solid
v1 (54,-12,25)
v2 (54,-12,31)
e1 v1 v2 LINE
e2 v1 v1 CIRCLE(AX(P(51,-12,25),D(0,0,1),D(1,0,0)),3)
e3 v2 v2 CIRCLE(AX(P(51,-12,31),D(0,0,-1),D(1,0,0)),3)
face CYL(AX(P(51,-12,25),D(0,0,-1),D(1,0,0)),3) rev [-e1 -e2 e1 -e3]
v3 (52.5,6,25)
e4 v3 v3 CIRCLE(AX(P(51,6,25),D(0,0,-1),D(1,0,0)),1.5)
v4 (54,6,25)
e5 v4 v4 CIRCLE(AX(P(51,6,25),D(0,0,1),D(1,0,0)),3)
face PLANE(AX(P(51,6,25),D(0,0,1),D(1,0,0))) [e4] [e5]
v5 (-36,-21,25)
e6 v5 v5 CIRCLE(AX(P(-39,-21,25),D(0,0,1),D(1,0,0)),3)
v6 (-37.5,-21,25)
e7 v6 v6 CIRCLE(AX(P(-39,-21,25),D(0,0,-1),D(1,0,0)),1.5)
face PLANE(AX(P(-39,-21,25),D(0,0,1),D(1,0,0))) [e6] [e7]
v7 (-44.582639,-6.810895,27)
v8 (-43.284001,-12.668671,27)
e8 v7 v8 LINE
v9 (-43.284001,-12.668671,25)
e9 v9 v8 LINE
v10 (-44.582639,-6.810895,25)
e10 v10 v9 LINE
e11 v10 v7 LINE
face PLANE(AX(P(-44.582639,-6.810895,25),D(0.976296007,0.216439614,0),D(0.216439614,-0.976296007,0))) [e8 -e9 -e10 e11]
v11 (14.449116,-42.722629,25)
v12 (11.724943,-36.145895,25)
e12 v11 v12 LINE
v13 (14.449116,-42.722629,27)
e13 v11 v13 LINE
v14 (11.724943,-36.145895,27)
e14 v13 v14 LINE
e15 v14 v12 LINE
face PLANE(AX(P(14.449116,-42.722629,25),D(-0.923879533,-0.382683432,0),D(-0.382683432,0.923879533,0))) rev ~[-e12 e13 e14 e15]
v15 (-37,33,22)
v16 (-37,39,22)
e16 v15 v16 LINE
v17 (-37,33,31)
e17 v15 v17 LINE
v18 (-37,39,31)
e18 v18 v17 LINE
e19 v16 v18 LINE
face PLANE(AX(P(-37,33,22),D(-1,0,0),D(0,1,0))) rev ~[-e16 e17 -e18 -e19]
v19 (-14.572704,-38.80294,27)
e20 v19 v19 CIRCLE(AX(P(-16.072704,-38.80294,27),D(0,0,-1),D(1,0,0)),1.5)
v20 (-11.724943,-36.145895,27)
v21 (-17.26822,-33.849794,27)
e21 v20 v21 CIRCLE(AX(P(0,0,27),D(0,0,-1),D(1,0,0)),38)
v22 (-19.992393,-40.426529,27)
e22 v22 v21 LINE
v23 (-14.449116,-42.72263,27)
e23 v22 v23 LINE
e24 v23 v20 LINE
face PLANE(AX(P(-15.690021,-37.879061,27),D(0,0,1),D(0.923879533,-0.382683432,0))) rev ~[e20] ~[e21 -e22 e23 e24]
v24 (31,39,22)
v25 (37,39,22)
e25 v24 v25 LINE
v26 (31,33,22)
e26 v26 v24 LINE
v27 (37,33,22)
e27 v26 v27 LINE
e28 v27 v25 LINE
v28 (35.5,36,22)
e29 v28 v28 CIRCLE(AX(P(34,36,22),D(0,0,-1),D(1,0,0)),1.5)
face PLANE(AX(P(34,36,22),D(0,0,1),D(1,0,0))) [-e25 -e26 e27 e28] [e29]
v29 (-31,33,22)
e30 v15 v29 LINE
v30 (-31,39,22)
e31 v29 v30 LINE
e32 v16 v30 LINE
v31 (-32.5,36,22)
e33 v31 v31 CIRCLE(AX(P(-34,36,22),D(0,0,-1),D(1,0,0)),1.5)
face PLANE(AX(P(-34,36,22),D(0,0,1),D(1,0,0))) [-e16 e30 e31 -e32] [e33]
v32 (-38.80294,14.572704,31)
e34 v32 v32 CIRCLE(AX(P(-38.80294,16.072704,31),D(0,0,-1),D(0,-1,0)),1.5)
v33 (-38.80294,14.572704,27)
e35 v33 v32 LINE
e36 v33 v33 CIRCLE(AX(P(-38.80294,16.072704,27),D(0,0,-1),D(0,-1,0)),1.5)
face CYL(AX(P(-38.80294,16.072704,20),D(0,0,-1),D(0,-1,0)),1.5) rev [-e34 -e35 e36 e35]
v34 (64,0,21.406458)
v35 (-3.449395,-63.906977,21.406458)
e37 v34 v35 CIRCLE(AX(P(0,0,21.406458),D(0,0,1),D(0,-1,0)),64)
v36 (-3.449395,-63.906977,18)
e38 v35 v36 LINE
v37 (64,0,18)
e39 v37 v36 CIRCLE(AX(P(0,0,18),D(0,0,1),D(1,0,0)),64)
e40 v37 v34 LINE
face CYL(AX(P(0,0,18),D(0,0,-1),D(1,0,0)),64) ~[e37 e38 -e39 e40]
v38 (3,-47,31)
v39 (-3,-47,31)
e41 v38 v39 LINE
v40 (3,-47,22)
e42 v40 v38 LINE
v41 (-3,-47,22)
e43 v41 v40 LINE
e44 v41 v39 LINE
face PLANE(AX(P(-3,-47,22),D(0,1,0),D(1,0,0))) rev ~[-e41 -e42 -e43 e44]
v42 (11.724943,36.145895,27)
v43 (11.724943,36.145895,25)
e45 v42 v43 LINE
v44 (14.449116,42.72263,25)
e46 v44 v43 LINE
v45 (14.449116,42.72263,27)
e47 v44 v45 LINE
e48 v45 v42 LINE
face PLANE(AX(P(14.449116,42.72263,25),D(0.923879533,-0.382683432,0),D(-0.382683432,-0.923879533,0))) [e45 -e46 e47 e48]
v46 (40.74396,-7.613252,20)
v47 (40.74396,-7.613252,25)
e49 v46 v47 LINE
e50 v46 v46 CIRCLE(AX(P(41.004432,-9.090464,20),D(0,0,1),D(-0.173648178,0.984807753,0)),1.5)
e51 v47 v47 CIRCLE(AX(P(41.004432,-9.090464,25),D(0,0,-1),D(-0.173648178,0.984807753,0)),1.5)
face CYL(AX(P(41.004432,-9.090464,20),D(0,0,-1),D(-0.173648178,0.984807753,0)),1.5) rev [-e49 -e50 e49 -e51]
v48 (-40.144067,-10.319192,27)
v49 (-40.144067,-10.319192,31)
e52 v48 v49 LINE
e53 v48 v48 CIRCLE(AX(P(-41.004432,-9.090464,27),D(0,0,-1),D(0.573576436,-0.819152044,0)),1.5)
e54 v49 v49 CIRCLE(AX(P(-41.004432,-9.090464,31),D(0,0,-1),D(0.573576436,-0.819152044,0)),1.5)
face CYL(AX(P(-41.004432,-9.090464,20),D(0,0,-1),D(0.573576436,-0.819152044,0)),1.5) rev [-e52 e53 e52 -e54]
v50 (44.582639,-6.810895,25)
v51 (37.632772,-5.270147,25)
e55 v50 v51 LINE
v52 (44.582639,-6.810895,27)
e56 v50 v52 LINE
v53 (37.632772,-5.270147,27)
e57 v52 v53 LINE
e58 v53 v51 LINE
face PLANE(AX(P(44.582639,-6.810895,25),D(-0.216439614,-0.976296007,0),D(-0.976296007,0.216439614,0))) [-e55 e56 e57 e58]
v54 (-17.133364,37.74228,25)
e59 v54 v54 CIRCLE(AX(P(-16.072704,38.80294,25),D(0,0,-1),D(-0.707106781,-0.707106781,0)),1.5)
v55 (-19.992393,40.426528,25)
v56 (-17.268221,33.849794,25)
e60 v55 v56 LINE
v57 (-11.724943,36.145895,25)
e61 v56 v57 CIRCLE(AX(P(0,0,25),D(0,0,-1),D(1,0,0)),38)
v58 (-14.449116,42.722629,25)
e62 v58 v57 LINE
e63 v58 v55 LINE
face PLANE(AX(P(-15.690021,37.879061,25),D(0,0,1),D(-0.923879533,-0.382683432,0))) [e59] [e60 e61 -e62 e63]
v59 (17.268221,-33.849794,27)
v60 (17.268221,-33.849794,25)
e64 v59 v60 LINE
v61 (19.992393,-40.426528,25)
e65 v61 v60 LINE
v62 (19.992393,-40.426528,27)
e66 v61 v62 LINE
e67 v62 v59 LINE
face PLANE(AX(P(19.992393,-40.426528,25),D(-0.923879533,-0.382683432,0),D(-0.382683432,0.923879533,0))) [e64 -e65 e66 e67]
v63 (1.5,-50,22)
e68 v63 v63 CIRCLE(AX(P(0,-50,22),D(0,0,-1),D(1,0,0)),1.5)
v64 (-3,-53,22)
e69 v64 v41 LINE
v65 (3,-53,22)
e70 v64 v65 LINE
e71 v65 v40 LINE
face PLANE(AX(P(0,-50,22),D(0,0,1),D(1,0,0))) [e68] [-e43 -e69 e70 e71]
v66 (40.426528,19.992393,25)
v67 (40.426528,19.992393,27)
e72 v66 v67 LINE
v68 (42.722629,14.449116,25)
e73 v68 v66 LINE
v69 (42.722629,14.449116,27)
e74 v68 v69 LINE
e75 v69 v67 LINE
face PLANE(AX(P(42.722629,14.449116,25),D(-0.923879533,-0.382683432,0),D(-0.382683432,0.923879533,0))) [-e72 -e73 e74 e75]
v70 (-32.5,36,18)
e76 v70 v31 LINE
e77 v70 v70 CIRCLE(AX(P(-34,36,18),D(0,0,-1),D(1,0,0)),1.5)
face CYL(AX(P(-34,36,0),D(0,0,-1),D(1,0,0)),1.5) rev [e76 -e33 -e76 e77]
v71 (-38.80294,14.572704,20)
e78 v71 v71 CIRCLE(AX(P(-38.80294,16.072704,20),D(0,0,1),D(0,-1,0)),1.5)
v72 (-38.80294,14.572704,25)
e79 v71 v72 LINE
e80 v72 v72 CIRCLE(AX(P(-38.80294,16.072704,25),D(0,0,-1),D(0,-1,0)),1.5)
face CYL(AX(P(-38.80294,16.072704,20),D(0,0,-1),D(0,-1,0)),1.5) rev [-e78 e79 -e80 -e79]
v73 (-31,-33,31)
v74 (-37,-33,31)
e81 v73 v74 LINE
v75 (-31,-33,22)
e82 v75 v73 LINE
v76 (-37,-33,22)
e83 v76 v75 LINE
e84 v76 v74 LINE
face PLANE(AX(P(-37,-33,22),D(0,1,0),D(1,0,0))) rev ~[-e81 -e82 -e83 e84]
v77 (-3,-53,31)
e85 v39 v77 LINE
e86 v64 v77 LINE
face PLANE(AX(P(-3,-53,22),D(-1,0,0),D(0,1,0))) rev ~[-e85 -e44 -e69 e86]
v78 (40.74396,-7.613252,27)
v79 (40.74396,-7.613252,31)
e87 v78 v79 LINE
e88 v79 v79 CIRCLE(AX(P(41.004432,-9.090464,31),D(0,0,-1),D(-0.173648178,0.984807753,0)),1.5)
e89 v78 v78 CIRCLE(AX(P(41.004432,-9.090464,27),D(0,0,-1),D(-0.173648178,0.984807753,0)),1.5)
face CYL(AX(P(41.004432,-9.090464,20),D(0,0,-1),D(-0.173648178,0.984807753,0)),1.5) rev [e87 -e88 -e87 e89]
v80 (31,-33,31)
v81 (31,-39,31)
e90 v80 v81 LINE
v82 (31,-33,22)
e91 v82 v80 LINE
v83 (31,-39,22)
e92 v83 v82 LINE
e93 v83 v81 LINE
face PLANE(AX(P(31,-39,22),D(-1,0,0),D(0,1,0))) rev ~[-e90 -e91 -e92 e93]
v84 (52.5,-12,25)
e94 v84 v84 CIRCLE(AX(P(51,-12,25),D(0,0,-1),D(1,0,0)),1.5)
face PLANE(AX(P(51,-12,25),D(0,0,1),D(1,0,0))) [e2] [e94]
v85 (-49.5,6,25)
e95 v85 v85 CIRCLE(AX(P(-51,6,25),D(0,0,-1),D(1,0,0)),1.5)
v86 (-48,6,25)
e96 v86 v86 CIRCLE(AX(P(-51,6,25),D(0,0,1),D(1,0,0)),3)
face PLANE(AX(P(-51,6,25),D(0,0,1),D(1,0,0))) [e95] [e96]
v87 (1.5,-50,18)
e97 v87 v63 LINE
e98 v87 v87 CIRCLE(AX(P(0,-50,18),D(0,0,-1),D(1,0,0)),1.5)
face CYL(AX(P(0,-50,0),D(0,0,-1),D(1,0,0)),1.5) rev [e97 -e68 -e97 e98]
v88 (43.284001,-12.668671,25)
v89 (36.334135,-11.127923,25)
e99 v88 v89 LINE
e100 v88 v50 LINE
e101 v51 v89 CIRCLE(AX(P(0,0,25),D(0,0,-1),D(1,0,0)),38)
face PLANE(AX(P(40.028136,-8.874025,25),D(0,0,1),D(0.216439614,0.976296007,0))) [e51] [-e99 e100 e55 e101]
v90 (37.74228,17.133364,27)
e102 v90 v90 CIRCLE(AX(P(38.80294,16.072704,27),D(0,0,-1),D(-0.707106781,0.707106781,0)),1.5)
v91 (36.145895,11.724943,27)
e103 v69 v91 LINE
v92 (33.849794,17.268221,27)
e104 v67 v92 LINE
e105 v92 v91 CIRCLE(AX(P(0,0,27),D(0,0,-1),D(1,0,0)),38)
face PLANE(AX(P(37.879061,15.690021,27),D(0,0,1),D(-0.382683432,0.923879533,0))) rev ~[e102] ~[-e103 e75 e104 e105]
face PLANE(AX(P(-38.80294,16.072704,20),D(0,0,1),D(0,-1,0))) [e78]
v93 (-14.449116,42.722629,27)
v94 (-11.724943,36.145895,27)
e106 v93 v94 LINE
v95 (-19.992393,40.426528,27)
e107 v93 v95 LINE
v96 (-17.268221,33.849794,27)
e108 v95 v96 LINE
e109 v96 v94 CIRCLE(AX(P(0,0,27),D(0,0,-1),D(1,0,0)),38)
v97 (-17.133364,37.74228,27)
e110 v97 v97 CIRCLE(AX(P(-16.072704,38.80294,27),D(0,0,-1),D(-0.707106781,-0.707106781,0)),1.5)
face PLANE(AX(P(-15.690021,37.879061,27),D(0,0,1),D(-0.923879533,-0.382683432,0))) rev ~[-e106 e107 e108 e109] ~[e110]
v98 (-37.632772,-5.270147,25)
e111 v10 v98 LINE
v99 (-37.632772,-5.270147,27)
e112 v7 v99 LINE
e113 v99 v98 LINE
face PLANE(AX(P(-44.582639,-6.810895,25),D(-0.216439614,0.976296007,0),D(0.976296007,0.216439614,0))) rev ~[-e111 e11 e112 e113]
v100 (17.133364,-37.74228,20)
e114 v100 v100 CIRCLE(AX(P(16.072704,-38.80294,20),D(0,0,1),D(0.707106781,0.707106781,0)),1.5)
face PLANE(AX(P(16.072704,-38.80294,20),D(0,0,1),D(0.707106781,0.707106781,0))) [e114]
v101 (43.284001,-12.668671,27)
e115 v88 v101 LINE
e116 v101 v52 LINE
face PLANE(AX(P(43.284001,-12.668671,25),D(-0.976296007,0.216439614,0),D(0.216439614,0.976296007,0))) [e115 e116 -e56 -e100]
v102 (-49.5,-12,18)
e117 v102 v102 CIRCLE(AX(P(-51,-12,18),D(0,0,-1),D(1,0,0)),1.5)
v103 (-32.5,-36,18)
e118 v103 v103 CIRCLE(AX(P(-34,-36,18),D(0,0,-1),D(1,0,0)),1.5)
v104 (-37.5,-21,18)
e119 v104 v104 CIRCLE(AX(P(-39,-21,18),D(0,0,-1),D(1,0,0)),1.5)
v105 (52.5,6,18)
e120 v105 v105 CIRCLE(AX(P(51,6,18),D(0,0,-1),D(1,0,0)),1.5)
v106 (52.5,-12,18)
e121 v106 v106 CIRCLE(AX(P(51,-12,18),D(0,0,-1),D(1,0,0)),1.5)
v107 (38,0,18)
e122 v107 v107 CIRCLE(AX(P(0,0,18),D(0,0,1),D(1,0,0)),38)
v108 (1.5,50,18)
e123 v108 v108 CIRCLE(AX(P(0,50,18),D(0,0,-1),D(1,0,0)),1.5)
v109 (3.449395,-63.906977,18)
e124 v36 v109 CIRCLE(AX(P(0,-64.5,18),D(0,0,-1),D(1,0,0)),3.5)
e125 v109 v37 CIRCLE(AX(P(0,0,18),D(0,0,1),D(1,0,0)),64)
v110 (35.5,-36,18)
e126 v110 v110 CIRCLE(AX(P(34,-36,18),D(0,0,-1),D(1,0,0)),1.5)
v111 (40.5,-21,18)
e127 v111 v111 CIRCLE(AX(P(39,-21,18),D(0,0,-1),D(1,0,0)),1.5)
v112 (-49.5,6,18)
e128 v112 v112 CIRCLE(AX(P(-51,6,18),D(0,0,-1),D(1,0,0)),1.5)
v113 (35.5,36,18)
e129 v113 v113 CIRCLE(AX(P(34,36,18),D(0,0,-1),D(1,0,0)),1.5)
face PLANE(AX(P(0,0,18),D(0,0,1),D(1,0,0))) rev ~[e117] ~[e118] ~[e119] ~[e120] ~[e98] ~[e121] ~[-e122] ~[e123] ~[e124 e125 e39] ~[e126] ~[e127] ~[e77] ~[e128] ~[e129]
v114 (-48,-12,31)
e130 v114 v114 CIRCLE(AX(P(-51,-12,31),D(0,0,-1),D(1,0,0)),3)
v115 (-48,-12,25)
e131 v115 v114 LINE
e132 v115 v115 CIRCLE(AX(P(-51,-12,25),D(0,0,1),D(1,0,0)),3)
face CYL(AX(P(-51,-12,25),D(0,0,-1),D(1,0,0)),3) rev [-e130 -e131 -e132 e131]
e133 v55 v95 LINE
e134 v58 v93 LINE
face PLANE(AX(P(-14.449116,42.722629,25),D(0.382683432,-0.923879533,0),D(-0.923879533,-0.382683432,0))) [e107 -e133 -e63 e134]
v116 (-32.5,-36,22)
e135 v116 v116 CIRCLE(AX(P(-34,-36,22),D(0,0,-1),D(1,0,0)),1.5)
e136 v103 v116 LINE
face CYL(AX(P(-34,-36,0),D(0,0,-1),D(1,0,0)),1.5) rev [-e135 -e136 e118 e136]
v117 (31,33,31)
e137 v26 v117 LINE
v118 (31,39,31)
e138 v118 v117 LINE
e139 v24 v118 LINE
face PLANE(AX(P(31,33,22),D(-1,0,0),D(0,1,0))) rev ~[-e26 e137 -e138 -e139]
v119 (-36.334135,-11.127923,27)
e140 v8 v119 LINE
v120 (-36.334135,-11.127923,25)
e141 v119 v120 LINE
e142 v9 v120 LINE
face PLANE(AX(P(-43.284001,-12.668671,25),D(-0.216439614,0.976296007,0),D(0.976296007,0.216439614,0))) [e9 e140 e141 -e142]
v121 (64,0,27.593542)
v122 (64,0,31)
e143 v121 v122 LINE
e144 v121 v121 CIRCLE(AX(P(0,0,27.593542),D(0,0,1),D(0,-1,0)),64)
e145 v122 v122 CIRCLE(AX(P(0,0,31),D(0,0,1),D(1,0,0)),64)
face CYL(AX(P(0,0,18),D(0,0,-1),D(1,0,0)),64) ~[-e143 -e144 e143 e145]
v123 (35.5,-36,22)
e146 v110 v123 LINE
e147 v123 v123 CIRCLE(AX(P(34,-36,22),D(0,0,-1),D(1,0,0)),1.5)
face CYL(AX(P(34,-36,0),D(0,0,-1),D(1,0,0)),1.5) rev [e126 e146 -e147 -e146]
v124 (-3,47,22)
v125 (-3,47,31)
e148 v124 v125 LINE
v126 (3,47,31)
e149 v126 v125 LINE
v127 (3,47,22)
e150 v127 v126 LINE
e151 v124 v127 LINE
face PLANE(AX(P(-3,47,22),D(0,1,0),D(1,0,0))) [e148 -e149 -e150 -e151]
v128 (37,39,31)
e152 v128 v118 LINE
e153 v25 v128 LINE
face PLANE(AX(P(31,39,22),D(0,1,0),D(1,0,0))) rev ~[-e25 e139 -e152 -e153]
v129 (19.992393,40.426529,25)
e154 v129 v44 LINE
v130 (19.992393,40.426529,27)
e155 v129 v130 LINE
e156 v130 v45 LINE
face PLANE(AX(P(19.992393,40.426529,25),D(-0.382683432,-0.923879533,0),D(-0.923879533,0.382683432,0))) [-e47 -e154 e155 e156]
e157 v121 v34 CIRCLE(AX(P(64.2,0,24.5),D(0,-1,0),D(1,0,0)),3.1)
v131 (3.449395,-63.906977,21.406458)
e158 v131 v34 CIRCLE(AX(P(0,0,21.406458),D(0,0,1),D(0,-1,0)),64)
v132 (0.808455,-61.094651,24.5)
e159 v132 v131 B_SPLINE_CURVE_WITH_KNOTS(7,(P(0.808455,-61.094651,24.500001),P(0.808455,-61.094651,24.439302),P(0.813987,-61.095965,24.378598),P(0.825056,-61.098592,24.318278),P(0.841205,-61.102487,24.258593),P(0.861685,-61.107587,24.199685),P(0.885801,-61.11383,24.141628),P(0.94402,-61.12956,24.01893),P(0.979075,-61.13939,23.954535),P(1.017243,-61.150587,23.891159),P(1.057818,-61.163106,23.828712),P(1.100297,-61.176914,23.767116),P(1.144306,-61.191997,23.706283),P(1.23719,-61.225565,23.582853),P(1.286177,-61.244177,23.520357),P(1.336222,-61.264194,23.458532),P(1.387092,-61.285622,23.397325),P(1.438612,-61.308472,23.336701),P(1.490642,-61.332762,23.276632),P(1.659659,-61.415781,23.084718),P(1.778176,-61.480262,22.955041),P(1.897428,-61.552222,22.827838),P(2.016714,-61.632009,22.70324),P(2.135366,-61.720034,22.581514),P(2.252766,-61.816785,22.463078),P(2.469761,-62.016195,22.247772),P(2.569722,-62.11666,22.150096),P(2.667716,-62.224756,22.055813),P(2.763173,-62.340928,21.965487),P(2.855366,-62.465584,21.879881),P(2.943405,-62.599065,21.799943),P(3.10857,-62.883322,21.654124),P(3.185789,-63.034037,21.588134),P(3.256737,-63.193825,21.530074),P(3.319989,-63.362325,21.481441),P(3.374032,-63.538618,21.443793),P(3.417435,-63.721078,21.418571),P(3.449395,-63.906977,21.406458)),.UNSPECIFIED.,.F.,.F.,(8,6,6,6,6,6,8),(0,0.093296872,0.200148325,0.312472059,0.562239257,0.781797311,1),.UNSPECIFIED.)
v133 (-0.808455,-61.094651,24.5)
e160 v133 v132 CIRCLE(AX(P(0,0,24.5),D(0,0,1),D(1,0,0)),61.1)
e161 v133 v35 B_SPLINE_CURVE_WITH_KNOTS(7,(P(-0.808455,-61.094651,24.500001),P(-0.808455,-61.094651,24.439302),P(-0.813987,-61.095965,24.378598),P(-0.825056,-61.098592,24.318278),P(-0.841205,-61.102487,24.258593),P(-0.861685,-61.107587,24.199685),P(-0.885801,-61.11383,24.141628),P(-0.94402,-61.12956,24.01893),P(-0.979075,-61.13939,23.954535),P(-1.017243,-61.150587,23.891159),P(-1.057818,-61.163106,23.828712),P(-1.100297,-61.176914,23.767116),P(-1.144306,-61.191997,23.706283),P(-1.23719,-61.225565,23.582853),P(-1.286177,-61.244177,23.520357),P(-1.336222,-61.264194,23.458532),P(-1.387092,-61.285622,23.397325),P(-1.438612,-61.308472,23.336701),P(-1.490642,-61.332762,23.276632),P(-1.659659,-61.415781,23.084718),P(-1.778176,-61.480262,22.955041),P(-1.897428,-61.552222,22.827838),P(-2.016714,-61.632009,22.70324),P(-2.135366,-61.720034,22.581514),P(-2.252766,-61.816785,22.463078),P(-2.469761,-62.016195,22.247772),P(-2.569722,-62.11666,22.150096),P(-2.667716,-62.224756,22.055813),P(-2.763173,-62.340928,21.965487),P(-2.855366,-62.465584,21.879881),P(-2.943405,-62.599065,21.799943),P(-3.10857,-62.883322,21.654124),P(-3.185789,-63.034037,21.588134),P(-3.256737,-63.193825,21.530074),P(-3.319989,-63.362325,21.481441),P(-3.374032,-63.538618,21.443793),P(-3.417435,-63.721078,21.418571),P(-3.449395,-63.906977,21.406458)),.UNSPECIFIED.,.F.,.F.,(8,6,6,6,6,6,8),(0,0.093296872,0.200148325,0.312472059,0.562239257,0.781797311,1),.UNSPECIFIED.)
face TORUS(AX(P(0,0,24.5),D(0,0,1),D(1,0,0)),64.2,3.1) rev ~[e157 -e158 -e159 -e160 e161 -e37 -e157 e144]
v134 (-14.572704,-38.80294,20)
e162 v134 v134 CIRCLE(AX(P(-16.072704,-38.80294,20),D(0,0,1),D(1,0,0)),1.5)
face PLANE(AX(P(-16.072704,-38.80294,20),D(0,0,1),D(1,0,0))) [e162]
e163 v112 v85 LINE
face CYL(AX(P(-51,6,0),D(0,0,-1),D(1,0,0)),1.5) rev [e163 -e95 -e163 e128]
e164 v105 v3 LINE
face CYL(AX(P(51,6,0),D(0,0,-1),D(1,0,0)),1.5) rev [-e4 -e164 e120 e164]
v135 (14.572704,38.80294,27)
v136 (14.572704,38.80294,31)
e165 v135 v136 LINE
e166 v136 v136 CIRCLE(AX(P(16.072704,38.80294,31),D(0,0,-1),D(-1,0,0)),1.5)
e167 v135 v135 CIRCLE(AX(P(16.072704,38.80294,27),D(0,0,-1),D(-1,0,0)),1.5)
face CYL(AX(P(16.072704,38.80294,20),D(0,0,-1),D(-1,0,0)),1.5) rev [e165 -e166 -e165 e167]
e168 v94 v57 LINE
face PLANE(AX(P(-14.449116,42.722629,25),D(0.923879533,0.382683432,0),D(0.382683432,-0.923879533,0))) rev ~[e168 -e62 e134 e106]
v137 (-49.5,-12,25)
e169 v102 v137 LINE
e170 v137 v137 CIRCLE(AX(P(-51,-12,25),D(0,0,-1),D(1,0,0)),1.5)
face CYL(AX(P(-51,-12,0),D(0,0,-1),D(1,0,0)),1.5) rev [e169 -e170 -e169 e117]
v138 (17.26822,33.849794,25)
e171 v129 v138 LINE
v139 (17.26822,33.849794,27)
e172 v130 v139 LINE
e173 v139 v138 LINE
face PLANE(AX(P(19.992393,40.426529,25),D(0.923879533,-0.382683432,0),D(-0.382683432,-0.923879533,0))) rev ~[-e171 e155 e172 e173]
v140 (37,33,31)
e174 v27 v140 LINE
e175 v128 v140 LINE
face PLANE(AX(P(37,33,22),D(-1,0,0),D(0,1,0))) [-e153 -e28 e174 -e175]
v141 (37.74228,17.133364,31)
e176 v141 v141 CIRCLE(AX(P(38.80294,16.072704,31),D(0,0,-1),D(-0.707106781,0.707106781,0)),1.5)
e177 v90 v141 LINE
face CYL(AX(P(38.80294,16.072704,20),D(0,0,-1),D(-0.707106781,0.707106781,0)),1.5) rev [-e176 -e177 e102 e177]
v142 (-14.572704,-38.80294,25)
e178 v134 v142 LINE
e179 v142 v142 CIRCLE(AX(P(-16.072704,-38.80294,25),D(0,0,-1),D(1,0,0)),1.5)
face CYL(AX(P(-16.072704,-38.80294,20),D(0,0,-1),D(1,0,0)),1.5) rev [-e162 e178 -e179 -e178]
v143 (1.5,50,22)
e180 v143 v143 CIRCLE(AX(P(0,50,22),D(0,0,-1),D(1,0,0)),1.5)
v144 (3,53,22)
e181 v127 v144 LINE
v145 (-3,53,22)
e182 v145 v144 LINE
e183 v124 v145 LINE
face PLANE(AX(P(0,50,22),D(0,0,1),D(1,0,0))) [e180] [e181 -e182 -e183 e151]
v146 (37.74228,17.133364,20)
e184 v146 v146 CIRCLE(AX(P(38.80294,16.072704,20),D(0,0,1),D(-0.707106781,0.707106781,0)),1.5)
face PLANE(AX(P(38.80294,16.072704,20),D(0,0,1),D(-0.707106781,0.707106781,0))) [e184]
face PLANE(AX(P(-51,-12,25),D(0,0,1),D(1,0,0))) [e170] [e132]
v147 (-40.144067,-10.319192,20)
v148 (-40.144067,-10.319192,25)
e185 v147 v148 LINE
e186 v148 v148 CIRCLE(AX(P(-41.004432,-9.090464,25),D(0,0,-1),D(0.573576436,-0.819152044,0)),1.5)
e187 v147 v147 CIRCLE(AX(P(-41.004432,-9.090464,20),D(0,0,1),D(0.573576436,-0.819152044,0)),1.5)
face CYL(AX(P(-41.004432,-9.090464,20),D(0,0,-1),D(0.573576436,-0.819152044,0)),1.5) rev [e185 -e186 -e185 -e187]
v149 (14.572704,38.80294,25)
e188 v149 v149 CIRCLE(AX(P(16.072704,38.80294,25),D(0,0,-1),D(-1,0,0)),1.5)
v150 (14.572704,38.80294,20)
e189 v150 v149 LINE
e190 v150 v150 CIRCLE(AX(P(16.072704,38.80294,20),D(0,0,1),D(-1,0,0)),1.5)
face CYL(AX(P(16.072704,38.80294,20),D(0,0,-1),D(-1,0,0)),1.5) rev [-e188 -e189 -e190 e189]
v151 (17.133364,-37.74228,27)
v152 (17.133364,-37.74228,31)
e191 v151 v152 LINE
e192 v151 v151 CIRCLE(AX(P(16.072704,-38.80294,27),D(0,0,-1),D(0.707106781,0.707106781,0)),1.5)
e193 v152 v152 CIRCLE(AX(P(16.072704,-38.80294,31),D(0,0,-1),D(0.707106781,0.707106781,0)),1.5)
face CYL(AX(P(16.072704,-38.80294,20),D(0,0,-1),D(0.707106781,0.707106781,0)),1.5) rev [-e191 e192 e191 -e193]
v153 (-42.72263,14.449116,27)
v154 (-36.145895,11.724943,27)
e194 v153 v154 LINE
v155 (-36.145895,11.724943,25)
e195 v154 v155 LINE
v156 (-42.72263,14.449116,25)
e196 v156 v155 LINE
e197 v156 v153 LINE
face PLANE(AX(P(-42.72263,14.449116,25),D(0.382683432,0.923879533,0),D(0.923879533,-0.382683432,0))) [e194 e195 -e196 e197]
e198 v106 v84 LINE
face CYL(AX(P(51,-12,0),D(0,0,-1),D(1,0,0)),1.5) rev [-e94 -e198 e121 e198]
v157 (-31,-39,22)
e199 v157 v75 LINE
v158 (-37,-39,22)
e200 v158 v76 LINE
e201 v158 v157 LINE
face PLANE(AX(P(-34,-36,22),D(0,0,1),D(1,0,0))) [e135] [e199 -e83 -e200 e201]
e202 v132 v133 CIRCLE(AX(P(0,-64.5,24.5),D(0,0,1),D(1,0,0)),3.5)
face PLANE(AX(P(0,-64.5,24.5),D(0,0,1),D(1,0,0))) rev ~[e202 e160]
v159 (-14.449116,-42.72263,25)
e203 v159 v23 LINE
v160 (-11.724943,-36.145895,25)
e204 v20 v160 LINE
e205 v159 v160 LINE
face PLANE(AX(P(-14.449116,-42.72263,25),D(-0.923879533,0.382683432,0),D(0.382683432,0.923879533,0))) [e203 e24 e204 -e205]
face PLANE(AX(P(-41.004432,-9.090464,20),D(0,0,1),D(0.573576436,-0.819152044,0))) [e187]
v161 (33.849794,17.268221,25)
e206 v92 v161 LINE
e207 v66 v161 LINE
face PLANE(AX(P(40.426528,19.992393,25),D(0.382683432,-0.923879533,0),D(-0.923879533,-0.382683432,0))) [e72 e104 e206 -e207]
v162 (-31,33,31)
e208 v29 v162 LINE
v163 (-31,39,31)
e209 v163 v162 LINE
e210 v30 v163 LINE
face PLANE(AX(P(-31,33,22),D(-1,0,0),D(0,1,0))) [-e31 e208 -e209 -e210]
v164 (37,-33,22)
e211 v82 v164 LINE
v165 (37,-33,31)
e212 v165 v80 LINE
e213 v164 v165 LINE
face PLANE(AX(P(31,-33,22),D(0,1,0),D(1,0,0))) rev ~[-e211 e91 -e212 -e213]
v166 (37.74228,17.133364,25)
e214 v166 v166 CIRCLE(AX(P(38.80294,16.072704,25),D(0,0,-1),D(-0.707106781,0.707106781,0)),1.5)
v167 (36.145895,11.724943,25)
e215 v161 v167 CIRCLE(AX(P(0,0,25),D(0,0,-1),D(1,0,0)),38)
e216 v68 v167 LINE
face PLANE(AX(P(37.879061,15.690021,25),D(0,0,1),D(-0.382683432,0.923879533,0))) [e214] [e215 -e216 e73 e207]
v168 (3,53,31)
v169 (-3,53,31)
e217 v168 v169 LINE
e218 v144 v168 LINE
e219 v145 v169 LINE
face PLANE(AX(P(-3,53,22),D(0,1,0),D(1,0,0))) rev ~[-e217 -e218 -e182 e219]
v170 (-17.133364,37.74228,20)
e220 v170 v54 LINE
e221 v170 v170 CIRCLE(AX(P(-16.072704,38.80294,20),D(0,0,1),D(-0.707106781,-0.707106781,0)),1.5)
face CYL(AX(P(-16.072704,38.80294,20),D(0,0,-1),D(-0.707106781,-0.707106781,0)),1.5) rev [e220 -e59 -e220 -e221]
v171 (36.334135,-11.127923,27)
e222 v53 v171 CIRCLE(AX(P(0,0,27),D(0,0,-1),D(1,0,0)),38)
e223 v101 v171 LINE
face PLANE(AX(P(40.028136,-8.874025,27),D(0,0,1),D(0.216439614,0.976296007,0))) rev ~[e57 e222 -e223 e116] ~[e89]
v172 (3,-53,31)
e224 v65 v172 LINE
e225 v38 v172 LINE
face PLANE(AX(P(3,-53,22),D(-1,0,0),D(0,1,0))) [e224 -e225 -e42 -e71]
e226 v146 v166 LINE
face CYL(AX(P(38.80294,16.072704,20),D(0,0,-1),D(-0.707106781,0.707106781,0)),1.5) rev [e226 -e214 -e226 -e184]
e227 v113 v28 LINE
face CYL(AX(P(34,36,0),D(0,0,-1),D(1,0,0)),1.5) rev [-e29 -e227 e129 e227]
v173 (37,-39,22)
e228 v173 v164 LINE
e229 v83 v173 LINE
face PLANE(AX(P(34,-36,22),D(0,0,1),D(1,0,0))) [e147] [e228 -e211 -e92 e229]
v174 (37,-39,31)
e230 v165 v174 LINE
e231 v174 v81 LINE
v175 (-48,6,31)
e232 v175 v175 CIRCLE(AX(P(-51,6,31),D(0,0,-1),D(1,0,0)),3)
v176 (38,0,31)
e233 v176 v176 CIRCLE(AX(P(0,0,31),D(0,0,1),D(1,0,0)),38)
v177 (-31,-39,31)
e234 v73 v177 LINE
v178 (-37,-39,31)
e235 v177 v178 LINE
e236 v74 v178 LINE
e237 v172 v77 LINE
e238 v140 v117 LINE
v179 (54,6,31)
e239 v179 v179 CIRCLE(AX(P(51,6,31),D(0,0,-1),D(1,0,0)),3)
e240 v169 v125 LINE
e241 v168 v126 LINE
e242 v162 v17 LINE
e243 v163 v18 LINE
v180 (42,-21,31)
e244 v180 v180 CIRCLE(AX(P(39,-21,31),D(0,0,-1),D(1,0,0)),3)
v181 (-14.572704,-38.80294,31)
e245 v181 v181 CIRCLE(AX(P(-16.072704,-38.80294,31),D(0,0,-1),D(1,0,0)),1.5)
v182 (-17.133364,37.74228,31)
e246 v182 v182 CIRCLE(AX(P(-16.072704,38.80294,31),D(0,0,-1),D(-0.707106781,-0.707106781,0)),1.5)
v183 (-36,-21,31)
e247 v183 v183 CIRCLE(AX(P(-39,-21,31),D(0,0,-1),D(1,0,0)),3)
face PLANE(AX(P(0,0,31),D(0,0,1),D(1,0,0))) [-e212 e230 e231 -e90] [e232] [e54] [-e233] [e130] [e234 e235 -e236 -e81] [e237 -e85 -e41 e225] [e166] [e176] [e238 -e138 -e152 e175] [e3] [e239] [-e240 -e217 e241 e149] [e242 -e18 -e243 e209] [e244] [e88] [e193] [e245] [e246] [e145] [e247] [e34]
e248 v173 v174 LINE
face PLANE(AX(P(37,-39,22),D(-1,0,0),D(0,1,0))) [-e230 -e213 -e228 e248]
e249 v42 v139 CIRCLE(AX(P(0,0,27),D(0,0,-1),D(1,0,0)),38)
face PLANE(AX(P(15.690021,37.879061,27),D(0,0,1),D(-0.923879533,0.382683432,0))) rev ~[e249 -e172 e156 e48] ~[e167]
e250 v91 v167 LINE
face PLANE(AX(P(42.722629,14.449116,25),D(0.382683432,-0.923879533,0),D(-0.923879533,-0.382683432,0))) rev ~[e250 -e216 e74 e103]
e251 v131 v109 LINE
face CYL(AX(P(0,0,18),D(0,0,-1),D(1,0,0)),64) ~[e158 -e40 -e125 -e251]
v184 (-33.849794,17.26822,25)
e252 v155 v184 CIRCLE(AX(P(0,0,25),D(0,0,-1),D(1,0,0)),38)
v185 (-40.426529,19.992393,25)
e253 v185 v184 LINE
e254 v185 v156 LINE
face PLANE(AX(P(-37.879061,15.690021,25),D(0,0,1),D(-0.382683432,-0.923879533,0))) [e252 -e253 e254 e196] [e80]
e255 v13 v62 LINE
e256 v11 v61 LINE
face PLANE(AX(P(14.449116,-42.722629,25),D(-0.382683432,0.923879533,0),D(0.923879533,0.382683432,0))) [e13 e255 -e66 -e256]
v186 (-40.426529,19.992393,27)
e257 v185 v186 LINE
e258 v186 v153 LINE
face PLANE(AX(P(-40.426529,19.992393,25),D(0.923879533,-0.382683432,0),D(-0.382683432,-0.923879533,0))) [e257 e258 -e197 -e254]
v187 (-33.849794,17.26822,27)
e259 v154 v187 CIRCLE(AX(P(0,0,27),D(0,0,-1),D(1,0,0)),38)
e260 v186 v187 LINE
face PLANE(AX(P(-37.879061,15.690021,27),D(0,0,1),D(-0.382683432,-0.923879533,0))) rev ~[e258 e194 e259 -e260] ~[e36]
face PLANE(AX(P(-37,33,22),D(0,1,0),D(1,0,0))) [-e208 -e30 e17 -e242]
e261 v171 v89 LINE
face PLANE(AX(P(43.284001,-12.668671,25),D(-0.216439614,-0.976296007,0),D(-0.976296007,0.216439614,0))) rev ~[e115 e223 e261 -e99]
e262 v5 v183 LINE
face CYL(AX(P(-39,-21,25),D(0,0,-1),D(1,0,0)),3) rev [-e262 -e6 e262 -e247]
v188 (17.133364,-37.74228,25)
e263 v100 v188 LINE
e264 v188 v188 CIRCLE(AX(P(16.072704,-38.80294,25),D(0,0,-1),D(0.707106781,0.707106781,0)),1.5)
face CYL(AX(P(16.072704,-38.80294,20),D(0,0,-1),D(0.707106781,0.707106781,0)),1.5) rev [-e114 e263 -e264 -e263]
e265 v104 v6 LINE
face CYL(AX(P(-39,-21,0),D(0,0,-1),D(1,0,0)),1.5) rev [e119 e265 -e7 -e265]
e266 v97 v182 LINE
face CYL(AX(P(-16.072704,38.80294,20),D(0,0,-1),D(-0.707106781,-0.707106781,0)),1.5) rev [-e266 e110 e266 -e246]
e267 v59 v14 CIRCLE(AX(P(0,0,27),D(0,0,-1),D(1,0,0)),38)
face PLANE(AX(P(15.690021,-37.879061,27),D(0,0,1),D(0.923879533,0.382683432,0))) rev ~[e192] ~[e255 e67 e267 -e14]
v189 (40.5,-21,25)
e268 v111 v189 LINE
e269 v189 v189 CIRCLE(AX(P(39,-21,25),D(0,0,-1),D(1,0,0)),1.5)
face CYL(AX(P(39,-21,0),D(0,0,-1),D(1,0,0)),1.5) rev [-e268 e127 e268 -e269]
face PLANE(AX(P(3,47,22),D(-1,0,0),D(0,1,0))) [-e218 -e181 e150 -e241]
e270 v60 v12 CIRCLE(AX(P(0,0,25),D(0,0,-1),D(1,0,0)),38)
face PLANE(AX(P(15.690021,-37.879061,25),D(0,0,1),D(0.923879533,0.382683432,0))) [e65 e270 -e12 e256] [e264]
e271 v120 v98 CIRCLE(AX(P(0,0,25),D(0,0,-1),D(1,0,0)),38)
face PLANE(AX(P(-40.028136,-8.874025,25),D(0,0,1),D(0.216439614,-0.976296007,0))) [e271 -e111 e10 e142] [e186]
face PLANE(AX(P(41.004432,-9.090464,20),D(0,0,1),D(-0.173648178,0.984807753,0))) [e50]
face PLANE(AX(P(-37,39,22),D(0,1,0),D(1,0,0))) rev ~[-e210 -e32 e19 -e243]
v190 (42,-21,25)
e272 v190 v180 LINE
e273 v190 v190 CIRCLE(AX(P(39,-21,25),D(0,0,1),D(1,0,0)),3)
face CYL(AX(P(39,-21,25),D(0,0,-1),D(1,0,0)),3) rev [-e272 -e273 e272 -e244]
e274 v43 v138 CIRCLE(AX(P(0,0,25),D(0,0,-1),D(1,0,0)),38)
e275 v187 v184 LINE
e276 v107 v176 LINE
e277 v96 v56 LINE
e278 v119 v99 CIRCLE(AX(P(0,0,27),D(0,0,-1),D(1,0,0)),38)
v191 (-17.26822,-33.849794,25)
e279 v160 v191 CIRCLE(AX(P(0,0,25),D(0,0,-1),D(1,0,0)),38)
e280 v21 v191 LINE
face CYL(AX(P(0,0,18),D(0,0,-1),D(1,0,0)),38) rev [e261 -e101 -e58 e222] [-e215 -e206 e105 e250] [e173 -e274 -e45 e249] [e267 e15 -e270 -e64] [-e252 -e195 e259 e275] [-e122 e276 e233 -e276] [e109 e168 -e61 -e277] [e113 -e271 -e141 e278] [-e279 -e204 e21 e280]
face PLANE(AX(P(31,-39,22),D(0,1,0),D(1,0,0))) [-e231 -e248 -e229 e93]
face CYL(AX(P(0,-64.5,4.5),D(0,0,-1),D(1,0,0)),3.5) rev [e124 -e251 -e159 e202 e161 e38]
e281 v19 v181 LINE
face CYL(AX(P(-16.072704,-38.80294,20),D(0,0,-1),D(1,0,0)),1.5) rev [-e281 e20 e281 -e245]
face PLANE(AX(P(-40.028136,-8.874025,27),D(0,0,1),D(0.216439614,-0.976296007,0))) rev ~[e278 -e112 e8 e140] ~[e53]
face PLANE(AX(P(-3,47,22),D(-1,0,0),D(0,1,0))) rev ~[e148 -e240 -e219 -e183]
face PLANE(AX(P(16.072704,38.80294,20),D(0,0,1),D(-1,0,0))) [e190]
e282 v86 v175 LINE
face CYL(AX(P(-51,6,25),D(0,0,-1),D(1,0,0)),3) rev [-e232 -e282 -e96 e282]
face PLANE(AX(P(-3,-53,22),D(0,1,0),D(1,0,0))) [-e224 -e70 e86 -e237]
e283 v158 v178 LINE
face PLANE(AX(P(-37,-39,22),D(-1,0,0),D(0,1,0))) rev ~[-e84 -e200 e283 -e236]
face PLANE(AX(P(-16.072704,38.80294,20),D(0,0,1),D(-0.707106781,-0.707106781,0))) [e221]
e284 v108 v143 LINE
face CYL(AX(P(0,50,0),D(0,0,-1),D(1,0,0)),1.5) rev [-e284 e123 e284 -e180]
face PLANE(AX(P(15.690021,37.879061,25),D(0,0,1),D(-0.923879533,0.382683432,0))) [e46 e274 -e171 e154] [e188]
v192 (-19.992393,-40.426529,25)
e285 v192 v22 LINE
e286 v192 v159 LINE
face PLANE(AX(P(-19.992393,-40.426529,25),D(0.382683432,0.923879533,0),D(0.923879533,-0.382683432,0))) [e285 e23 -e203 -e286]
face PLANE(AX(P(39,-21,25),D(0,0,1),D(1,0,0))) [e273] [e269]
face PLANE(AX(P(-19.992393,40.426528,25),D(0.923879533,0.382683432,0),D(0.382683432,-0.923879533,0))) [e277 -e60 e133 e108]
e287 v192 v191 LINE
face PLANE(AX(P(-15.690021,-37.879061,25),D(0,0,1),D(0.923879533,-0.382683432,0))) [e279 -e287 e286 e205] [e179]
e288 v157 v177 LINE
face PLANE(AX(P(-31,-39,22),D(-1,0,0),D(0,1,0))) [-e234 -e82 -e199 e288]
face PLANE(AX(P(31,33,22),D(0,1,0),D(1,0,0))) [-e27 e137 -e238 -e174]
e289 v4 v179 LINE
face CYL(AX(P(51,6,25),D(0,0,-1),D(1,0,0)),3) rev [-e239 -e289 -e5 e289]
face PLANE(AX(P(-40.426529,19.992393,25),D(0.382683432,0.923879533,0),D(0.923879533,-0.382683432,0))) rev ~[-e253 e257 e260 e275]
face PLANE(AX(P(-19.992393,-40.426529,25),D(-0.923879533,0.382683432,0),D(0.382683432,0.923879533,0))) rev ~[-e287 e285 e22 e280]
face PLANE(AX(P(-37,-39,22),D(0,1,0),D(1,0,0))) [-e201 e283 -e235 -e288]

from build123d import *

# Parameters (mm, degrees)
CYLINDER529_R               = 1.5
CYLINDER529_DEPTH           = 100
CYLINDER528_R               = 1.5
CYLINDER528_DEPTH           = 100
CYLINDER533_R               = 3
CYLINDER533_DEPTH           = 7
CYLINDER532_R               = 3
CYLINDER532_DEPTH           = 7
BOX158_W                    = 6
BOX158_H                    = 8
BOX158_DEPTH                = 2
BOX158_PLACEMENT_ANGLE      = 77.5
BOX159_W                    = 6
BOX159_H                    = 8
BOX159_DEPTH                = 2
BOX159_PLACEMENT_ANGLE      = 112.5
BOX160_W                    = 6
BOX160_H                    = 8
BOX160_DEPTH                = 2
BOX160_PLACEMENT_ANGLE      = 157.5
BOX161_W                    = 6
BOX161_H                    = 8
BOX161_DEPTH                = 2
BOX161_PLACEMENT_ANGLE      = 202.5
BOX162_W                    = 6
BOX162_H                    = 8
BOX162_DEPTH                = 2
BOX162_PLACEMENT_ANGLE      = -112.5
BOX163_W                    = 6
BOX163_H                    = 8
BOX163_DEPTH                = 2
BOX163_PLACEMENT_ANGLE      = 77.5
BOX164_W                    = 6
BOX164_H                    = 8
BOX164_DEPTH                = 2
BOX164_PLACEMENT_ANGLE      = 22.5
BOX157_W                    = 6
BOX157_H                    = 8
BOX157_DEPTH                = 2
BOX157_PLACEMENT_ANGLE      = 22.5
CYLINDER469_R               = 1.5
CYLINDER469_DEPTH           = 100
CYLINDER469_PLACEMENT_ANGLE = 100
CYLINDER470_R               = 1.5
CYLINDER470_DEPTH           = 100
CYLINDER470_PLACEMENT_ANGLE = 135
CYLINDER471_R               = 1.5
CYLINDER471_DEPTH           = 100
CYLINDER472_R               = 1.5
CYLINDER472_DEPTH           = 100
CYLINDER472_PLACEMENT_ANGLE = 225
CYLINDER473_R               = 1.5
CYLINDER473_DEPTH           = 100
CYLINDER474_R               = 1.5
CYLINDER474_DEPTH           = 100
CYLINDER474_PLACEMENT_ANGLE = 55
CYLINDER475_R               = 1.5
CYLINDER475_DEPTH           = 100
CYLINDER468_R               = 1.5
CYLINDER468_DEPTH           = 100
CYLINDER468_PLACEMENT_ANGLE = 45
BOX147_W                    = 6
BOX147_H                    = 6
BOX147_DEPTH                = 10
BOX146_W                    = 6
BOX146_H                    = 6
BOX146_DEPTH                = 10
BOX148_W                    = 6
BOX148_H                    = 6
BOX148_DEPTH                = 10
BOX149_W                    = 6
BOX149_H                    = 6
BOX149_DEPTH                = 10
BOX150_W                    = 6
BOX150_H                    = 6
BOX150_DEPTH                = 10
BOX145_W                    = 6
BOX145_H                    = 6
BOX145_DEPTH                = 10
CYLINDER411_R               = 3
CYLINDER411_DEPTH           = 7
CYLINDER409_R               = 3
CYLINDER409_DEPTH           = 7
CYLINDER410_R               = 3
CYLINDER410_DEPTH           = 7
CYLINDER408_R               = 3
CYLINDER408_DEPTH           = 7
CYLINDER371_R               = 1.5
CYLINDER371_DEPTH           = 50
CYLINDER372_R               = 1.5
CYLINDER372_DEPTH           = 50
CYLINDER373_R               = 1.5
CYLINDER373_DEPTH           = 50
CYLINDER374_R               = 1.5
CYLINDER374_DEPTH           = 50
CYLINDER375_R               = 1.5
CYLINDER375_DEPTH           = 50
CYLINDER376_R               = 1.5
CYLINDER376_DEPTH           = 100
CYLINDER377_R               = 1.5
CYLINDER377_DEPTH           = 50
CYLINDER378_R               = 1.5
CYLINDER378_DEPTH           = 50
CYLINDER379_R               = 1.5
CYLINDER379_DEPTH           = 100
CYLINDER370_R               = 1.5
CYLINDER370_DEPTH           = 50
CYLINDER288_R               = 3.5
CYLINDER288_DEPTH           = 20
TORUS_R                     = 3.1
TUBE019_R                   = 64
TUBE019_R_2                 = 38
TUBE019_DEPTH               = 13


with BuildPart() as v_lec529:
    # Cylinder529 → Cylinder529 (new body)
    with BuildSketch(Plane(origin=(39, -21, 0), x_dir=(1, 0, 0), z_dir=(0, 0, 1))):
        Circle(CYLINDER529_R)
    extrude(amount=CYLINDER529_DEPTH)


with BuildPart() as compound:
    # Cylinder528 → Cylinder528 (new body)
    with BuildSketch(Plane(origin=(-39, -21, 0), x_dir=(1, 0, 0), z_dir=(0, 0, 1))):
        Circle(CYLINDER528_R)
    extrude(amount=CYLINDER528_DEPTH)

    # Compound: union Válec529
    add(v_lec529.part)


with BuildPart() as v_lec533:
    # Cylinder533 → Cylinder533 (new body)
    with BuildSketch(Plane(origin=(39, -21, 50), x_dir=(1, 0, 0), z_dir=(0, 0, 1))):
        Circle(CYLINDER533_R)
    extrude(amount=CYLINDER533_DEPTH)


with BuildPart() as compound338:
    # Cylinder532 → Cylinder532 (new body)
    with BuildSketch(Plane(origin=(-39, -21, 50), x_dir=(1, 0, 0), z_dir=(0, 0, 1))):
        Circle(CYLINDER532_R)
    extrude(amount=CYLINDER532_DEPTH)

    # Compound338: union Válec533
    add(v_lec533.part)


with BuildPart() as compound338_1:
    # Compound338 placement: moved
    add(compound338.part.moved(Location((0, 0, -25))))


with BuildPart() as krychle158:
    # Box158 → Box158 (new body)
    with BuildSketch(Plane.XY):
        with Locations((3, 4)):
            Rectangle(BOX158_W, BOX158_H)
    extrude(amount=BOX158_DEPTH)


with BuildPart() as krychle158_1:
    # Box158 placement: moved
    add(krychle158.part.moved(Location((43.284001, -12.668671, 25))).rotate(Axis((43.284001, -12.668671, 25), (0, 0, 1)), BOX158_PLACEMENT_ANGLE))


with BuildPart() as krychle159:
    # Box159 → Box159 (new body)
    with BuildSketch(Plane.XY):
        with Locations((3, 4)):
            Rectangle(BOX159_W, BOX159_H)
    extrude(amount=BOX159_DEPTH)


with BuildPart() as krychle159_1:
    # Box159 placement: moved
    add(krychle159.part.moved(Location((42.722629, 14.449116, 25))).rotate(Axis((42.722629, 14.449116, 25), (0, 0, 1)), BOX159_PLACEMENT_ANGLE))


with BuildPart() as krychle160:
    # Box160 → Box160 (new body)
    with BuildSketch(Plane.XY):
        with Locations((3, 4)):
            Rectangle(BOX160_W, BOX160_H)
    extrude(amount=BOX160_DEPTH)


with BuildPart() as krychle160_1:
    # Box160 placement: moved
    add(krychle160.part.moved(Location((19.992393, 40.426529, 25))).rotate(Axis((19.992393, 40.426529, 25), (0, 0, 1)), BOX160_PLACEMENT_ANGLE))


with BuildPart() as krychle161:
    # Box161 → Box161 (new body)
    with BuildSketch(Plane.XY):
        with Locations((3, 4)):
            Rectangle(BOX161_W, BOX161_H)
    extrude(amount=BOX161_DEPTH)


with BuildPart() as krychle161_1:
    # Box161 placement: moved
    add(krychle161.part.moved(Location((-14.449116, 42.722629, 25))).rotate(Axis((-14.449116, 42.722629, 25), (0, 0, 1)), BOX161_PLACEMENT_ANGLE))


with BuildPart() as krychle162:
    # Box162 → Box162 (new body)
    with BuildSketch(Plane.XY):
        with Locations((3, 4)):
            Rectangle(BOX162_W, BOX162_H)
    extrude(amount=BOX162_DEPTH)


with BuildPart() as krychle162_1:
    # Box162 placement: moved
    add(krychle162.part.moved(Location((-40.426529, 19.992393, 25))).rotate(Axis((-40.426529, 19.992393, 25), (0, 0, 1)), BOX162_PLACEMENT_ANGLE))


with BuildPart() as krychle163:
    # Box163 → Box163 (new body)
    with BuildSketch(Plane.XY):
        with Locations((3, 4)):
            Rectangle(BOX163_W, BOX163_H)
    extrude(amount=BOX163_DEPTH)


with BuildPart() as krychle163_1:
    # Box163 placement: moved
    add(krychle163.part.moved(Location((-44.582639, -6.810895, 25))).rotate(Axis((-44.582639, -6.810895, 25), (0, 0, -1)), BOX163_PLACEMENT_ANGLE))


with BuildPart() as krychle164:
    # Box164 → Box164 (new body)
    with BuildSketch(Plane.XY):
        with Locations((3, 4)):
            Rectangle(BOX164_W, BOX164_H)
    extrude(amount=BOX164_DEPTH)


with BuildPart() as krychle164_1:
    # Box164 placement: moved
    add(krychle164.part.moved(Location((-19.992393, -40.426529, 25))).rotate(Axis((-19.992393, -40.426529, 25), (0, 0, -1)), BOX164_PLACEMENT_ANGLE))


with BuildPart() as compound322:
    # Box157 → Box157 (new body)
    with BuildSketch(Plane.XY):
        with Locations((3, 4)):
            Rectangle(BOX157_W, BOX157_H)
    extrude(amount=BOX157_DEPTH)


with BuildPart() as compound322_1:
    # Box157 placement: moved
    add(compound322.part.moved(Location((14.449116, -42.722629, 25))).rotate(Axis((14.449116, -42.722629, 25), (0, 0, 1)), BOX157_PLACEMENT_ANGLE))

    # Compound322: union Krychle158, Krychle159, Krychle160, Krychle161, Krychle162, Krychle163, Krychle164
    add(krychle158_1.part)
    add(krychle159_1.part)
    add(krychle160_1.part)
    add(krychle161_1.part)
    add(krychle162_1.part)
    add(krychle163_1.part)
    add(krychle164_1.part)


with BuildPart() as v_lec469:
    # Cylinder469 → Cylinder469 (new body)
    with BuildSketch(Plane.XY):
        Circle(CYLINDER469_R)
    extrude(amount=CYLINDER469_DEPTH)


with BuildPart() as v_lec469_1:
    # Cylinder469 placement: moved
    add(v_lec469.part.moved(Location((41.004432, -9.090464, 0))).rotate(Axis((41.004432, -9.090464, 0), (0, 0, 1)), CYLINDER469_PLACEMENT_ANGLE))


with BuildPart() as v_lec470:
    # Cylinder470 → Cylinder470 (new body)
    with BuildSketch(Plane.XY):
        Circle(CYLINDER470_R)
    extrude(amount=CYLINDER470_DEPTH)


with BuildPart() as v_lec470_1:
    # Cylinder470 placement: moved
    add(v_lec470.part.moved(Location((38.80294, 16.072704, 0))).rotate(Axis((38.80294, 16.072704, 0), (0, 0, 1)), CYLINDER470_PLACEMENT_ANGLE))


with BuildPart() as v_lec471:
    # Cylinder471 → Cylinder471 (new body)
    with BuildSketch(Plane(origin=(16.072704, 38.80294, 0), x_dir=(-1, 0, 0), z_dir=(0, 0, 1))):
        Circle(CYLINDER471_R)
    extrude(amount=CYLINDER471_DEPTH)


with BuildPart() as v_lec472:
    # Cylinder472 → Cylinder472 (new body)
    with BuildSketch(Plane.XY):
        Circle(CYLINDER472_R)
    extrude(amount=CYLINDER472_DEPTH)


with BuildPart() as v_lec472_1:
    # Cylinder472 placement: moved
    add(v_lec472.part.moved(Location((-16.072704, 38.80294, 0))).rotate(Axis((-16.072704, 38.80294, 0), (0, 0, 1)), CYLINDER472_PLACEMENT_ANGLE))


with BuildPart() as v_lec473:
    # Cylinder473 → Cylinder473 (new body)
    with BuildSketch(Plane(origin=(-38.80294, 16.072704, 0), x_dir=(0, -1, 0), z_dir=(0, 0, 1))):
        Circle(CYLINDER473_R)
    extrude(amount=CYLINDER473_DEPTH)


with BuildPart() as v_lec474:
    # Cylinder474 → Cylinder474 (new body)
    with BuildSketch(Plane.XY):
        Circle(CYLINDER474_R)
    extrude(amount=CYLINDER474_DEPTH)


with BuildPart() as v_lec474_1:
    # Cylinder474 placement: moved
    add(v_lec474.part.moved(Location((-41.004432, -9.090464, 0))).rotate(Axis((-41.004432, -9.090464, 0), (0, 0, -1)), CYLINDER474_PLACEMENT_ANGLE))


with BuildPart() as v_lec475:
    # Cylinder475 → Cylinder475 (new body)
    with BuildSketch(Plane(origin=(-16.072704, -38.80294, 0), x_dir=(1, 0, 0), z_dir=(0, 0, 1))):
        Circle(CYLINDER475_R)
    extrude(amount=CYLINDER475_DEPTH)


with BuildPart() as compound328:
    # Cylinder468 → Cylinder468 (new body)
    with BuildSketch(Plane.XY):
        Circle(CYLINDER468_R)
    extrude(amount=CYLINDER468_DEPTH)


with BuildPart() as compound328_1:
    # Cylinder468 placement: moved
    add(compound328.part.moved(Location((16.072704, -38.80294, 0))).rotate(Axis((16.072704, -38.80294, 0), (0, 0, 1)), CYLINDER468_PLACEMENT_ANGLE))

    # Compound328: union Válec469, Válec470, Válec471, Válec472, Válec473, Válec474, Válec475
    add(v_lec469_1.part)
    add(v_lec470_1.part)
    add(v_lec471.part)
    add(v_lec472_1.part)
    add(v_lec473.part)
    add(v_lec474_1.part)
    add(v_lec475.part)


with BuildPart() as compound328_2:
    # Compound328 placement: moved
    add(compound328_1.part.moved(Location((0, 0, 20))))


with BuildPart() as krychle147:
    # Box147 → Box147 (new body)
    with BuildSketch(Plane(origin=(-37, -39, 40), x_dir=(1, 0, 0), z_dir=(0, 0, 1))):
        with Locations((3, 3)):
            Rectangle(BOX147_W, BOX147_H)
    extrude(amount=BOX147_DEPTH)


with BuildPart() as krychle146:
    # Box146 → Box146 (new body)
    with BuildSketch(Plane(origin=(-3, -53, 40), x_dir=(1, 0, 0), z_dir=(0, 0, 1))):
        with Locations((3, 3)):
            Rectangle(BOX146_W, BOX146_H)
    extrude(amount=BOX146_DEPTH)


with BuildPart() as krychle148:
    # Box148 → Box148 (new body)
    with BuildSketch(Plane(origin=(31, 33, 40), x_dir=(1, 0, 0), z_dir=(0, 0, 1))):
        with Locations((3, 3)):
            Rectangle(BOX148_W, BOX148_H)
    extrude(amount=BOX148_DEPTH)


with BuildPart() as krychle149:
    # Box149 → Box149 (new body)
    with BuildSketch(Plane(origin=(-37, 33, 40), x_dir=(1, 0, 0), z_dir=(0, 0, 1))):
        with Locations((3, 3)):
            Rectangle(BOX149_W, BOX149_H)
    extrude(amount=BOX149_DEPTH)


with BuildPart() as krychle150:
    # Box150 → Box150 (new body)
    with BuildSketch(Plane(origin=(31, -39, 40), x_dir=(1, 0, 0), z_dir=(0, 0, 1))):
        with Locations((3, 3)):
            Rectangle(BOX150_W, BOX150_H)
    extrude(amount=BOX150_DEPTH)


with BuildPart() as compound315:
    # Box145 → Box145 (new body)
    with BuildSketch(Plane(origin=(-3, 47, 40), x_dir=(1, 0, 0), z_dir=(0, 0, 1))):
        with Locations((3, 3)):
            Rectangle(BOX145_W, BOX145_H)
    extrude(amount=BOX145_DEPTH)

    # Compound315: union Krychle147, Krychle146, Krychle148, Krychle149, Krychle150
    add(krychle147.part)
    add(krychle146.part)
    add(krychle148.part)
    add(krychle149.part)
    add(krychle150.part)


with BuildPart() as compound315_1:
    # Compound315 placement: moved
    add(compound315.part.moved(Location((0, 0, -18))))


with BuildPart() as v_lec411:
    # Cylinder411 → Cylinder411 (new body)
    with BuildSketch(Plane(origin=(51, -12, 50), x_dir=(1, 0, 0), z_dir=(0, 0, 1))):
        Circle(CYLINDER411_R)
    extrude(amount=CYLINDER411_DEPTH)


with BuildPart() as v_lec409:
    # Cylinder409 → Cylinder409 (new body)
    with BuildSketch(Plane(origin=(51, 6, 50), x_dir=(1, 0, 0), z_dir=(0, 0, 1))):
        Circle(CYLINDER409_R)
    extrude(amount=CYLINDER409_DEPTH)


with BuildPart() as v_lec410:
    # Cylinder410 → Cylinder410 (new body)
    with BuildSketch(Plane(origin=(-51, 6, 50), x_dir=(1, 0, 0), z_dir=(0, 0, 1))):
        Circle(CYLINDER410_R)
    extrude(amount=CYLINDER410_DEPTH)


with BuildPart() as compound313:
    # Cylinder408 → Cylinder408 (new body)
    with BuildSketch(Plane(origin=(-51, -12, 50), x_dir=(1, 0, 0), z_dir=(0, 0, 1))):
        Circle(CYLINDER408_R)
    extrude(amount=CYLINDER408_DEPTH)

    # Compound313: union Válec411, Válec409, Válec410
    add(v_lec411.part)
    add(v_lec409.part)
    add(v_lec410.part)


with BuildPart() as compound313_1:
    # Compound313 placement: moved
    add(compound313.part.moved(Location((0, 0, -25))))


with BuildPart() as v_lec371:
    # Cylinder371 → Cylinder371 (new body)
    with BuildSketch(Plane(origin=(34, 36, 0), x_dir=(1, 0, 0), z_dir=(0, 0, 1))):
        Circle(CYLINDER371_R)
    extrude(amount=CYLINDER371_DEPTH)


with BuildPart() as v_lec372:
    # Cylinder372 → Cylinder372 (new body)
    with BuildSketch(Plane(origin=(-34, -36, 0), x_dir=(1, 0, 0), z_dir=(0, 0, 1))):
        Circle(CYLINDER372_R)
    extrude(amount=CYLINDER372_DEPTH)


with BuildPart() as v_lec373:
    # Cylinder373 → Cylinder373 (new body)
    with BuildSketch(Plane(origin=(34, -36, 0), x_dir=(1, 0, 0), z_dir=(0, 0, 1))):
        Circle(CYLINDER373_R)
    extrude(amount=CYLINDER373_DEPTH)


with BuildPart() as v_lec374:
    # Cylinder374 → Cylinder374 (new body)
    with BuildSketch(Plane(origin=(0, 50, 0), x_dir=(1, 0, 0), z_dir=(0, 0, 1))):
        Circle(CYLINDER374_R)
    extrude(amount=CYLINDER374_DEPTH)


with BuildPart() as v_lec375:
    # Cylinder375 → Cylinder375 (new body)
    with BuildSketch(Plane(origin=(0, -50, 0), x_dir=(1, 0, 0), z_dir=(0, 0, 1))):
        Circle(CYLINDER375_R)
    extrude(amount=CYLINDER375_DEPTH)


with BuildPart() as v_lec376:
    # Cylinder376 → Cylinder376 (new body)
    with BuildSketch(Plane(origin=(-51, -12, 0), x_dir=(1, 0, 0), z_dir=(0, 0, 1))):
        Circle(CYLINDER376_R)
    extrude(amount=CYLINDER376_DEPTH)


with BuildPart() as v_lec377:
    # Cylinder377 → Cylinder377 (new body)
    with BuildSketch(Plane(origin=(51, 6, 0), x_dir=(1, 0, 0), z_dir=(0, 0, 1))):
        Circle(CYLINDER377_R)
    extrude(amount=CYLINDER377_DEPTH)


with BuildPart() as v_lec378:
    # Cylinder378 → Cylinder378 (new body)
    with BuildSketch(Plane(origin=(-51, 6, 0), x_dir=(1, 0, 0), z_dir=(0, 0, 1))):
        Circle(CYLINDER378_R)
    extrude(amount=CYLINDER378_DEPTH)


with BuildPart() as v_lec379:
    # Cylinder379 → Cylinder379 (new body)
    with BuildSketch(Plane(origin=(51, -12, 0), x_dir=(1, 0, 0), z_dir=(0, 0, 1))):
        Circle(CYLINDER379_R)
    extrude(amount=CYLINDER379_DEPTH)


with BuildPart() as compound308:
    # Cylinder370 → Cylinder370 (new body)
    with BuildSketch(Plane(origin=(-34, 36, 0), x_dir=(1, 0, 0), z_dir=(0, 0, 1))):
        Circle(CYLINDER370_R)
    extrude(amount=CYLINDER370_DEPTH)

    # Compound308: union Válec371, Válec372, Válec373, Válec374, Válec375, Válec376, Válec377, Válec378, Válec379
    add(v_lec371.part)
    add(v_lec372.part)
    add(v_lec373.part)
    add(v_lec374.part)
    add(v_lec375.part)
    add(v_lec376.part)
    add(v_lec377.part)
    add(v_lec378.part)
    add(v_lec379.part)


with BuildPart() as v_lec288:
    # Cylinder288 → Cylinder288 (new body)
    with BuildSketch(Plane(origin=(0, -64.5, 4.5), x_dir=(1, 0, 0), z_dir=(0, 0, 1))):
        Circle(CYLINDER288_R)
    extrude(amount=CYLINDER288_DEPTH)


with BuildPart() as anuloid:
    # Torus → Torus (revolve)
    with BuildSketch(Plane(origin=(0, 0, 24.5), x_dir=(1, 0, 0), z_dir=(0, -1, 0))):
        with Locations((64.2, 0)):
            Circle(TORUS_R)
    revolve(axis=Axis((0, 0, 24.5), (0, 0, 1)))


with BuildPart() as cut177:
    # Tube019 → Tube019 (new body)
    with BuildSketch(Plane.XY.offset(18)):
        Circle(TUBE019_R)
        Circle(TUBE019_R_2, mode=Mode.SUBTRACT)
    extrude(amount=TUBE019_DEPTH)

    # Cut129: cut Anuloid
    add(anuloid.part, mode=Mode.SUBTRACT)

    # Cut130: cut Válec288
    add(v_lec288.part, mode=Mode.SUBTRACT)

    # Cut160: cut Compound308
    add(compound308.part, mode=Mode.SUBTRACT)

    # Cut162: cut Compound313
    add(compound313_1.part, mode=Mode.SUBTRACT)

    # Cut164: cut Compound315
    add(compound315_1.part, mode=Mode.SUBTRACT)

    # Cut174: cut Compound328
    add(compound328_2.part, mode=Mode.SUBTRACT)

    # Cut175: cut Compound322
    add(compound322_1.part, mode=Mode.SUBTRACT)

    # Cut176: cut Compound338
    add(compound338_1.part, mode=Mode.SUBTRACT)

    # Cut177: cut Compound
    add(compound.part, mode=Mode.SUBTRACT)


solid = cut177.part
